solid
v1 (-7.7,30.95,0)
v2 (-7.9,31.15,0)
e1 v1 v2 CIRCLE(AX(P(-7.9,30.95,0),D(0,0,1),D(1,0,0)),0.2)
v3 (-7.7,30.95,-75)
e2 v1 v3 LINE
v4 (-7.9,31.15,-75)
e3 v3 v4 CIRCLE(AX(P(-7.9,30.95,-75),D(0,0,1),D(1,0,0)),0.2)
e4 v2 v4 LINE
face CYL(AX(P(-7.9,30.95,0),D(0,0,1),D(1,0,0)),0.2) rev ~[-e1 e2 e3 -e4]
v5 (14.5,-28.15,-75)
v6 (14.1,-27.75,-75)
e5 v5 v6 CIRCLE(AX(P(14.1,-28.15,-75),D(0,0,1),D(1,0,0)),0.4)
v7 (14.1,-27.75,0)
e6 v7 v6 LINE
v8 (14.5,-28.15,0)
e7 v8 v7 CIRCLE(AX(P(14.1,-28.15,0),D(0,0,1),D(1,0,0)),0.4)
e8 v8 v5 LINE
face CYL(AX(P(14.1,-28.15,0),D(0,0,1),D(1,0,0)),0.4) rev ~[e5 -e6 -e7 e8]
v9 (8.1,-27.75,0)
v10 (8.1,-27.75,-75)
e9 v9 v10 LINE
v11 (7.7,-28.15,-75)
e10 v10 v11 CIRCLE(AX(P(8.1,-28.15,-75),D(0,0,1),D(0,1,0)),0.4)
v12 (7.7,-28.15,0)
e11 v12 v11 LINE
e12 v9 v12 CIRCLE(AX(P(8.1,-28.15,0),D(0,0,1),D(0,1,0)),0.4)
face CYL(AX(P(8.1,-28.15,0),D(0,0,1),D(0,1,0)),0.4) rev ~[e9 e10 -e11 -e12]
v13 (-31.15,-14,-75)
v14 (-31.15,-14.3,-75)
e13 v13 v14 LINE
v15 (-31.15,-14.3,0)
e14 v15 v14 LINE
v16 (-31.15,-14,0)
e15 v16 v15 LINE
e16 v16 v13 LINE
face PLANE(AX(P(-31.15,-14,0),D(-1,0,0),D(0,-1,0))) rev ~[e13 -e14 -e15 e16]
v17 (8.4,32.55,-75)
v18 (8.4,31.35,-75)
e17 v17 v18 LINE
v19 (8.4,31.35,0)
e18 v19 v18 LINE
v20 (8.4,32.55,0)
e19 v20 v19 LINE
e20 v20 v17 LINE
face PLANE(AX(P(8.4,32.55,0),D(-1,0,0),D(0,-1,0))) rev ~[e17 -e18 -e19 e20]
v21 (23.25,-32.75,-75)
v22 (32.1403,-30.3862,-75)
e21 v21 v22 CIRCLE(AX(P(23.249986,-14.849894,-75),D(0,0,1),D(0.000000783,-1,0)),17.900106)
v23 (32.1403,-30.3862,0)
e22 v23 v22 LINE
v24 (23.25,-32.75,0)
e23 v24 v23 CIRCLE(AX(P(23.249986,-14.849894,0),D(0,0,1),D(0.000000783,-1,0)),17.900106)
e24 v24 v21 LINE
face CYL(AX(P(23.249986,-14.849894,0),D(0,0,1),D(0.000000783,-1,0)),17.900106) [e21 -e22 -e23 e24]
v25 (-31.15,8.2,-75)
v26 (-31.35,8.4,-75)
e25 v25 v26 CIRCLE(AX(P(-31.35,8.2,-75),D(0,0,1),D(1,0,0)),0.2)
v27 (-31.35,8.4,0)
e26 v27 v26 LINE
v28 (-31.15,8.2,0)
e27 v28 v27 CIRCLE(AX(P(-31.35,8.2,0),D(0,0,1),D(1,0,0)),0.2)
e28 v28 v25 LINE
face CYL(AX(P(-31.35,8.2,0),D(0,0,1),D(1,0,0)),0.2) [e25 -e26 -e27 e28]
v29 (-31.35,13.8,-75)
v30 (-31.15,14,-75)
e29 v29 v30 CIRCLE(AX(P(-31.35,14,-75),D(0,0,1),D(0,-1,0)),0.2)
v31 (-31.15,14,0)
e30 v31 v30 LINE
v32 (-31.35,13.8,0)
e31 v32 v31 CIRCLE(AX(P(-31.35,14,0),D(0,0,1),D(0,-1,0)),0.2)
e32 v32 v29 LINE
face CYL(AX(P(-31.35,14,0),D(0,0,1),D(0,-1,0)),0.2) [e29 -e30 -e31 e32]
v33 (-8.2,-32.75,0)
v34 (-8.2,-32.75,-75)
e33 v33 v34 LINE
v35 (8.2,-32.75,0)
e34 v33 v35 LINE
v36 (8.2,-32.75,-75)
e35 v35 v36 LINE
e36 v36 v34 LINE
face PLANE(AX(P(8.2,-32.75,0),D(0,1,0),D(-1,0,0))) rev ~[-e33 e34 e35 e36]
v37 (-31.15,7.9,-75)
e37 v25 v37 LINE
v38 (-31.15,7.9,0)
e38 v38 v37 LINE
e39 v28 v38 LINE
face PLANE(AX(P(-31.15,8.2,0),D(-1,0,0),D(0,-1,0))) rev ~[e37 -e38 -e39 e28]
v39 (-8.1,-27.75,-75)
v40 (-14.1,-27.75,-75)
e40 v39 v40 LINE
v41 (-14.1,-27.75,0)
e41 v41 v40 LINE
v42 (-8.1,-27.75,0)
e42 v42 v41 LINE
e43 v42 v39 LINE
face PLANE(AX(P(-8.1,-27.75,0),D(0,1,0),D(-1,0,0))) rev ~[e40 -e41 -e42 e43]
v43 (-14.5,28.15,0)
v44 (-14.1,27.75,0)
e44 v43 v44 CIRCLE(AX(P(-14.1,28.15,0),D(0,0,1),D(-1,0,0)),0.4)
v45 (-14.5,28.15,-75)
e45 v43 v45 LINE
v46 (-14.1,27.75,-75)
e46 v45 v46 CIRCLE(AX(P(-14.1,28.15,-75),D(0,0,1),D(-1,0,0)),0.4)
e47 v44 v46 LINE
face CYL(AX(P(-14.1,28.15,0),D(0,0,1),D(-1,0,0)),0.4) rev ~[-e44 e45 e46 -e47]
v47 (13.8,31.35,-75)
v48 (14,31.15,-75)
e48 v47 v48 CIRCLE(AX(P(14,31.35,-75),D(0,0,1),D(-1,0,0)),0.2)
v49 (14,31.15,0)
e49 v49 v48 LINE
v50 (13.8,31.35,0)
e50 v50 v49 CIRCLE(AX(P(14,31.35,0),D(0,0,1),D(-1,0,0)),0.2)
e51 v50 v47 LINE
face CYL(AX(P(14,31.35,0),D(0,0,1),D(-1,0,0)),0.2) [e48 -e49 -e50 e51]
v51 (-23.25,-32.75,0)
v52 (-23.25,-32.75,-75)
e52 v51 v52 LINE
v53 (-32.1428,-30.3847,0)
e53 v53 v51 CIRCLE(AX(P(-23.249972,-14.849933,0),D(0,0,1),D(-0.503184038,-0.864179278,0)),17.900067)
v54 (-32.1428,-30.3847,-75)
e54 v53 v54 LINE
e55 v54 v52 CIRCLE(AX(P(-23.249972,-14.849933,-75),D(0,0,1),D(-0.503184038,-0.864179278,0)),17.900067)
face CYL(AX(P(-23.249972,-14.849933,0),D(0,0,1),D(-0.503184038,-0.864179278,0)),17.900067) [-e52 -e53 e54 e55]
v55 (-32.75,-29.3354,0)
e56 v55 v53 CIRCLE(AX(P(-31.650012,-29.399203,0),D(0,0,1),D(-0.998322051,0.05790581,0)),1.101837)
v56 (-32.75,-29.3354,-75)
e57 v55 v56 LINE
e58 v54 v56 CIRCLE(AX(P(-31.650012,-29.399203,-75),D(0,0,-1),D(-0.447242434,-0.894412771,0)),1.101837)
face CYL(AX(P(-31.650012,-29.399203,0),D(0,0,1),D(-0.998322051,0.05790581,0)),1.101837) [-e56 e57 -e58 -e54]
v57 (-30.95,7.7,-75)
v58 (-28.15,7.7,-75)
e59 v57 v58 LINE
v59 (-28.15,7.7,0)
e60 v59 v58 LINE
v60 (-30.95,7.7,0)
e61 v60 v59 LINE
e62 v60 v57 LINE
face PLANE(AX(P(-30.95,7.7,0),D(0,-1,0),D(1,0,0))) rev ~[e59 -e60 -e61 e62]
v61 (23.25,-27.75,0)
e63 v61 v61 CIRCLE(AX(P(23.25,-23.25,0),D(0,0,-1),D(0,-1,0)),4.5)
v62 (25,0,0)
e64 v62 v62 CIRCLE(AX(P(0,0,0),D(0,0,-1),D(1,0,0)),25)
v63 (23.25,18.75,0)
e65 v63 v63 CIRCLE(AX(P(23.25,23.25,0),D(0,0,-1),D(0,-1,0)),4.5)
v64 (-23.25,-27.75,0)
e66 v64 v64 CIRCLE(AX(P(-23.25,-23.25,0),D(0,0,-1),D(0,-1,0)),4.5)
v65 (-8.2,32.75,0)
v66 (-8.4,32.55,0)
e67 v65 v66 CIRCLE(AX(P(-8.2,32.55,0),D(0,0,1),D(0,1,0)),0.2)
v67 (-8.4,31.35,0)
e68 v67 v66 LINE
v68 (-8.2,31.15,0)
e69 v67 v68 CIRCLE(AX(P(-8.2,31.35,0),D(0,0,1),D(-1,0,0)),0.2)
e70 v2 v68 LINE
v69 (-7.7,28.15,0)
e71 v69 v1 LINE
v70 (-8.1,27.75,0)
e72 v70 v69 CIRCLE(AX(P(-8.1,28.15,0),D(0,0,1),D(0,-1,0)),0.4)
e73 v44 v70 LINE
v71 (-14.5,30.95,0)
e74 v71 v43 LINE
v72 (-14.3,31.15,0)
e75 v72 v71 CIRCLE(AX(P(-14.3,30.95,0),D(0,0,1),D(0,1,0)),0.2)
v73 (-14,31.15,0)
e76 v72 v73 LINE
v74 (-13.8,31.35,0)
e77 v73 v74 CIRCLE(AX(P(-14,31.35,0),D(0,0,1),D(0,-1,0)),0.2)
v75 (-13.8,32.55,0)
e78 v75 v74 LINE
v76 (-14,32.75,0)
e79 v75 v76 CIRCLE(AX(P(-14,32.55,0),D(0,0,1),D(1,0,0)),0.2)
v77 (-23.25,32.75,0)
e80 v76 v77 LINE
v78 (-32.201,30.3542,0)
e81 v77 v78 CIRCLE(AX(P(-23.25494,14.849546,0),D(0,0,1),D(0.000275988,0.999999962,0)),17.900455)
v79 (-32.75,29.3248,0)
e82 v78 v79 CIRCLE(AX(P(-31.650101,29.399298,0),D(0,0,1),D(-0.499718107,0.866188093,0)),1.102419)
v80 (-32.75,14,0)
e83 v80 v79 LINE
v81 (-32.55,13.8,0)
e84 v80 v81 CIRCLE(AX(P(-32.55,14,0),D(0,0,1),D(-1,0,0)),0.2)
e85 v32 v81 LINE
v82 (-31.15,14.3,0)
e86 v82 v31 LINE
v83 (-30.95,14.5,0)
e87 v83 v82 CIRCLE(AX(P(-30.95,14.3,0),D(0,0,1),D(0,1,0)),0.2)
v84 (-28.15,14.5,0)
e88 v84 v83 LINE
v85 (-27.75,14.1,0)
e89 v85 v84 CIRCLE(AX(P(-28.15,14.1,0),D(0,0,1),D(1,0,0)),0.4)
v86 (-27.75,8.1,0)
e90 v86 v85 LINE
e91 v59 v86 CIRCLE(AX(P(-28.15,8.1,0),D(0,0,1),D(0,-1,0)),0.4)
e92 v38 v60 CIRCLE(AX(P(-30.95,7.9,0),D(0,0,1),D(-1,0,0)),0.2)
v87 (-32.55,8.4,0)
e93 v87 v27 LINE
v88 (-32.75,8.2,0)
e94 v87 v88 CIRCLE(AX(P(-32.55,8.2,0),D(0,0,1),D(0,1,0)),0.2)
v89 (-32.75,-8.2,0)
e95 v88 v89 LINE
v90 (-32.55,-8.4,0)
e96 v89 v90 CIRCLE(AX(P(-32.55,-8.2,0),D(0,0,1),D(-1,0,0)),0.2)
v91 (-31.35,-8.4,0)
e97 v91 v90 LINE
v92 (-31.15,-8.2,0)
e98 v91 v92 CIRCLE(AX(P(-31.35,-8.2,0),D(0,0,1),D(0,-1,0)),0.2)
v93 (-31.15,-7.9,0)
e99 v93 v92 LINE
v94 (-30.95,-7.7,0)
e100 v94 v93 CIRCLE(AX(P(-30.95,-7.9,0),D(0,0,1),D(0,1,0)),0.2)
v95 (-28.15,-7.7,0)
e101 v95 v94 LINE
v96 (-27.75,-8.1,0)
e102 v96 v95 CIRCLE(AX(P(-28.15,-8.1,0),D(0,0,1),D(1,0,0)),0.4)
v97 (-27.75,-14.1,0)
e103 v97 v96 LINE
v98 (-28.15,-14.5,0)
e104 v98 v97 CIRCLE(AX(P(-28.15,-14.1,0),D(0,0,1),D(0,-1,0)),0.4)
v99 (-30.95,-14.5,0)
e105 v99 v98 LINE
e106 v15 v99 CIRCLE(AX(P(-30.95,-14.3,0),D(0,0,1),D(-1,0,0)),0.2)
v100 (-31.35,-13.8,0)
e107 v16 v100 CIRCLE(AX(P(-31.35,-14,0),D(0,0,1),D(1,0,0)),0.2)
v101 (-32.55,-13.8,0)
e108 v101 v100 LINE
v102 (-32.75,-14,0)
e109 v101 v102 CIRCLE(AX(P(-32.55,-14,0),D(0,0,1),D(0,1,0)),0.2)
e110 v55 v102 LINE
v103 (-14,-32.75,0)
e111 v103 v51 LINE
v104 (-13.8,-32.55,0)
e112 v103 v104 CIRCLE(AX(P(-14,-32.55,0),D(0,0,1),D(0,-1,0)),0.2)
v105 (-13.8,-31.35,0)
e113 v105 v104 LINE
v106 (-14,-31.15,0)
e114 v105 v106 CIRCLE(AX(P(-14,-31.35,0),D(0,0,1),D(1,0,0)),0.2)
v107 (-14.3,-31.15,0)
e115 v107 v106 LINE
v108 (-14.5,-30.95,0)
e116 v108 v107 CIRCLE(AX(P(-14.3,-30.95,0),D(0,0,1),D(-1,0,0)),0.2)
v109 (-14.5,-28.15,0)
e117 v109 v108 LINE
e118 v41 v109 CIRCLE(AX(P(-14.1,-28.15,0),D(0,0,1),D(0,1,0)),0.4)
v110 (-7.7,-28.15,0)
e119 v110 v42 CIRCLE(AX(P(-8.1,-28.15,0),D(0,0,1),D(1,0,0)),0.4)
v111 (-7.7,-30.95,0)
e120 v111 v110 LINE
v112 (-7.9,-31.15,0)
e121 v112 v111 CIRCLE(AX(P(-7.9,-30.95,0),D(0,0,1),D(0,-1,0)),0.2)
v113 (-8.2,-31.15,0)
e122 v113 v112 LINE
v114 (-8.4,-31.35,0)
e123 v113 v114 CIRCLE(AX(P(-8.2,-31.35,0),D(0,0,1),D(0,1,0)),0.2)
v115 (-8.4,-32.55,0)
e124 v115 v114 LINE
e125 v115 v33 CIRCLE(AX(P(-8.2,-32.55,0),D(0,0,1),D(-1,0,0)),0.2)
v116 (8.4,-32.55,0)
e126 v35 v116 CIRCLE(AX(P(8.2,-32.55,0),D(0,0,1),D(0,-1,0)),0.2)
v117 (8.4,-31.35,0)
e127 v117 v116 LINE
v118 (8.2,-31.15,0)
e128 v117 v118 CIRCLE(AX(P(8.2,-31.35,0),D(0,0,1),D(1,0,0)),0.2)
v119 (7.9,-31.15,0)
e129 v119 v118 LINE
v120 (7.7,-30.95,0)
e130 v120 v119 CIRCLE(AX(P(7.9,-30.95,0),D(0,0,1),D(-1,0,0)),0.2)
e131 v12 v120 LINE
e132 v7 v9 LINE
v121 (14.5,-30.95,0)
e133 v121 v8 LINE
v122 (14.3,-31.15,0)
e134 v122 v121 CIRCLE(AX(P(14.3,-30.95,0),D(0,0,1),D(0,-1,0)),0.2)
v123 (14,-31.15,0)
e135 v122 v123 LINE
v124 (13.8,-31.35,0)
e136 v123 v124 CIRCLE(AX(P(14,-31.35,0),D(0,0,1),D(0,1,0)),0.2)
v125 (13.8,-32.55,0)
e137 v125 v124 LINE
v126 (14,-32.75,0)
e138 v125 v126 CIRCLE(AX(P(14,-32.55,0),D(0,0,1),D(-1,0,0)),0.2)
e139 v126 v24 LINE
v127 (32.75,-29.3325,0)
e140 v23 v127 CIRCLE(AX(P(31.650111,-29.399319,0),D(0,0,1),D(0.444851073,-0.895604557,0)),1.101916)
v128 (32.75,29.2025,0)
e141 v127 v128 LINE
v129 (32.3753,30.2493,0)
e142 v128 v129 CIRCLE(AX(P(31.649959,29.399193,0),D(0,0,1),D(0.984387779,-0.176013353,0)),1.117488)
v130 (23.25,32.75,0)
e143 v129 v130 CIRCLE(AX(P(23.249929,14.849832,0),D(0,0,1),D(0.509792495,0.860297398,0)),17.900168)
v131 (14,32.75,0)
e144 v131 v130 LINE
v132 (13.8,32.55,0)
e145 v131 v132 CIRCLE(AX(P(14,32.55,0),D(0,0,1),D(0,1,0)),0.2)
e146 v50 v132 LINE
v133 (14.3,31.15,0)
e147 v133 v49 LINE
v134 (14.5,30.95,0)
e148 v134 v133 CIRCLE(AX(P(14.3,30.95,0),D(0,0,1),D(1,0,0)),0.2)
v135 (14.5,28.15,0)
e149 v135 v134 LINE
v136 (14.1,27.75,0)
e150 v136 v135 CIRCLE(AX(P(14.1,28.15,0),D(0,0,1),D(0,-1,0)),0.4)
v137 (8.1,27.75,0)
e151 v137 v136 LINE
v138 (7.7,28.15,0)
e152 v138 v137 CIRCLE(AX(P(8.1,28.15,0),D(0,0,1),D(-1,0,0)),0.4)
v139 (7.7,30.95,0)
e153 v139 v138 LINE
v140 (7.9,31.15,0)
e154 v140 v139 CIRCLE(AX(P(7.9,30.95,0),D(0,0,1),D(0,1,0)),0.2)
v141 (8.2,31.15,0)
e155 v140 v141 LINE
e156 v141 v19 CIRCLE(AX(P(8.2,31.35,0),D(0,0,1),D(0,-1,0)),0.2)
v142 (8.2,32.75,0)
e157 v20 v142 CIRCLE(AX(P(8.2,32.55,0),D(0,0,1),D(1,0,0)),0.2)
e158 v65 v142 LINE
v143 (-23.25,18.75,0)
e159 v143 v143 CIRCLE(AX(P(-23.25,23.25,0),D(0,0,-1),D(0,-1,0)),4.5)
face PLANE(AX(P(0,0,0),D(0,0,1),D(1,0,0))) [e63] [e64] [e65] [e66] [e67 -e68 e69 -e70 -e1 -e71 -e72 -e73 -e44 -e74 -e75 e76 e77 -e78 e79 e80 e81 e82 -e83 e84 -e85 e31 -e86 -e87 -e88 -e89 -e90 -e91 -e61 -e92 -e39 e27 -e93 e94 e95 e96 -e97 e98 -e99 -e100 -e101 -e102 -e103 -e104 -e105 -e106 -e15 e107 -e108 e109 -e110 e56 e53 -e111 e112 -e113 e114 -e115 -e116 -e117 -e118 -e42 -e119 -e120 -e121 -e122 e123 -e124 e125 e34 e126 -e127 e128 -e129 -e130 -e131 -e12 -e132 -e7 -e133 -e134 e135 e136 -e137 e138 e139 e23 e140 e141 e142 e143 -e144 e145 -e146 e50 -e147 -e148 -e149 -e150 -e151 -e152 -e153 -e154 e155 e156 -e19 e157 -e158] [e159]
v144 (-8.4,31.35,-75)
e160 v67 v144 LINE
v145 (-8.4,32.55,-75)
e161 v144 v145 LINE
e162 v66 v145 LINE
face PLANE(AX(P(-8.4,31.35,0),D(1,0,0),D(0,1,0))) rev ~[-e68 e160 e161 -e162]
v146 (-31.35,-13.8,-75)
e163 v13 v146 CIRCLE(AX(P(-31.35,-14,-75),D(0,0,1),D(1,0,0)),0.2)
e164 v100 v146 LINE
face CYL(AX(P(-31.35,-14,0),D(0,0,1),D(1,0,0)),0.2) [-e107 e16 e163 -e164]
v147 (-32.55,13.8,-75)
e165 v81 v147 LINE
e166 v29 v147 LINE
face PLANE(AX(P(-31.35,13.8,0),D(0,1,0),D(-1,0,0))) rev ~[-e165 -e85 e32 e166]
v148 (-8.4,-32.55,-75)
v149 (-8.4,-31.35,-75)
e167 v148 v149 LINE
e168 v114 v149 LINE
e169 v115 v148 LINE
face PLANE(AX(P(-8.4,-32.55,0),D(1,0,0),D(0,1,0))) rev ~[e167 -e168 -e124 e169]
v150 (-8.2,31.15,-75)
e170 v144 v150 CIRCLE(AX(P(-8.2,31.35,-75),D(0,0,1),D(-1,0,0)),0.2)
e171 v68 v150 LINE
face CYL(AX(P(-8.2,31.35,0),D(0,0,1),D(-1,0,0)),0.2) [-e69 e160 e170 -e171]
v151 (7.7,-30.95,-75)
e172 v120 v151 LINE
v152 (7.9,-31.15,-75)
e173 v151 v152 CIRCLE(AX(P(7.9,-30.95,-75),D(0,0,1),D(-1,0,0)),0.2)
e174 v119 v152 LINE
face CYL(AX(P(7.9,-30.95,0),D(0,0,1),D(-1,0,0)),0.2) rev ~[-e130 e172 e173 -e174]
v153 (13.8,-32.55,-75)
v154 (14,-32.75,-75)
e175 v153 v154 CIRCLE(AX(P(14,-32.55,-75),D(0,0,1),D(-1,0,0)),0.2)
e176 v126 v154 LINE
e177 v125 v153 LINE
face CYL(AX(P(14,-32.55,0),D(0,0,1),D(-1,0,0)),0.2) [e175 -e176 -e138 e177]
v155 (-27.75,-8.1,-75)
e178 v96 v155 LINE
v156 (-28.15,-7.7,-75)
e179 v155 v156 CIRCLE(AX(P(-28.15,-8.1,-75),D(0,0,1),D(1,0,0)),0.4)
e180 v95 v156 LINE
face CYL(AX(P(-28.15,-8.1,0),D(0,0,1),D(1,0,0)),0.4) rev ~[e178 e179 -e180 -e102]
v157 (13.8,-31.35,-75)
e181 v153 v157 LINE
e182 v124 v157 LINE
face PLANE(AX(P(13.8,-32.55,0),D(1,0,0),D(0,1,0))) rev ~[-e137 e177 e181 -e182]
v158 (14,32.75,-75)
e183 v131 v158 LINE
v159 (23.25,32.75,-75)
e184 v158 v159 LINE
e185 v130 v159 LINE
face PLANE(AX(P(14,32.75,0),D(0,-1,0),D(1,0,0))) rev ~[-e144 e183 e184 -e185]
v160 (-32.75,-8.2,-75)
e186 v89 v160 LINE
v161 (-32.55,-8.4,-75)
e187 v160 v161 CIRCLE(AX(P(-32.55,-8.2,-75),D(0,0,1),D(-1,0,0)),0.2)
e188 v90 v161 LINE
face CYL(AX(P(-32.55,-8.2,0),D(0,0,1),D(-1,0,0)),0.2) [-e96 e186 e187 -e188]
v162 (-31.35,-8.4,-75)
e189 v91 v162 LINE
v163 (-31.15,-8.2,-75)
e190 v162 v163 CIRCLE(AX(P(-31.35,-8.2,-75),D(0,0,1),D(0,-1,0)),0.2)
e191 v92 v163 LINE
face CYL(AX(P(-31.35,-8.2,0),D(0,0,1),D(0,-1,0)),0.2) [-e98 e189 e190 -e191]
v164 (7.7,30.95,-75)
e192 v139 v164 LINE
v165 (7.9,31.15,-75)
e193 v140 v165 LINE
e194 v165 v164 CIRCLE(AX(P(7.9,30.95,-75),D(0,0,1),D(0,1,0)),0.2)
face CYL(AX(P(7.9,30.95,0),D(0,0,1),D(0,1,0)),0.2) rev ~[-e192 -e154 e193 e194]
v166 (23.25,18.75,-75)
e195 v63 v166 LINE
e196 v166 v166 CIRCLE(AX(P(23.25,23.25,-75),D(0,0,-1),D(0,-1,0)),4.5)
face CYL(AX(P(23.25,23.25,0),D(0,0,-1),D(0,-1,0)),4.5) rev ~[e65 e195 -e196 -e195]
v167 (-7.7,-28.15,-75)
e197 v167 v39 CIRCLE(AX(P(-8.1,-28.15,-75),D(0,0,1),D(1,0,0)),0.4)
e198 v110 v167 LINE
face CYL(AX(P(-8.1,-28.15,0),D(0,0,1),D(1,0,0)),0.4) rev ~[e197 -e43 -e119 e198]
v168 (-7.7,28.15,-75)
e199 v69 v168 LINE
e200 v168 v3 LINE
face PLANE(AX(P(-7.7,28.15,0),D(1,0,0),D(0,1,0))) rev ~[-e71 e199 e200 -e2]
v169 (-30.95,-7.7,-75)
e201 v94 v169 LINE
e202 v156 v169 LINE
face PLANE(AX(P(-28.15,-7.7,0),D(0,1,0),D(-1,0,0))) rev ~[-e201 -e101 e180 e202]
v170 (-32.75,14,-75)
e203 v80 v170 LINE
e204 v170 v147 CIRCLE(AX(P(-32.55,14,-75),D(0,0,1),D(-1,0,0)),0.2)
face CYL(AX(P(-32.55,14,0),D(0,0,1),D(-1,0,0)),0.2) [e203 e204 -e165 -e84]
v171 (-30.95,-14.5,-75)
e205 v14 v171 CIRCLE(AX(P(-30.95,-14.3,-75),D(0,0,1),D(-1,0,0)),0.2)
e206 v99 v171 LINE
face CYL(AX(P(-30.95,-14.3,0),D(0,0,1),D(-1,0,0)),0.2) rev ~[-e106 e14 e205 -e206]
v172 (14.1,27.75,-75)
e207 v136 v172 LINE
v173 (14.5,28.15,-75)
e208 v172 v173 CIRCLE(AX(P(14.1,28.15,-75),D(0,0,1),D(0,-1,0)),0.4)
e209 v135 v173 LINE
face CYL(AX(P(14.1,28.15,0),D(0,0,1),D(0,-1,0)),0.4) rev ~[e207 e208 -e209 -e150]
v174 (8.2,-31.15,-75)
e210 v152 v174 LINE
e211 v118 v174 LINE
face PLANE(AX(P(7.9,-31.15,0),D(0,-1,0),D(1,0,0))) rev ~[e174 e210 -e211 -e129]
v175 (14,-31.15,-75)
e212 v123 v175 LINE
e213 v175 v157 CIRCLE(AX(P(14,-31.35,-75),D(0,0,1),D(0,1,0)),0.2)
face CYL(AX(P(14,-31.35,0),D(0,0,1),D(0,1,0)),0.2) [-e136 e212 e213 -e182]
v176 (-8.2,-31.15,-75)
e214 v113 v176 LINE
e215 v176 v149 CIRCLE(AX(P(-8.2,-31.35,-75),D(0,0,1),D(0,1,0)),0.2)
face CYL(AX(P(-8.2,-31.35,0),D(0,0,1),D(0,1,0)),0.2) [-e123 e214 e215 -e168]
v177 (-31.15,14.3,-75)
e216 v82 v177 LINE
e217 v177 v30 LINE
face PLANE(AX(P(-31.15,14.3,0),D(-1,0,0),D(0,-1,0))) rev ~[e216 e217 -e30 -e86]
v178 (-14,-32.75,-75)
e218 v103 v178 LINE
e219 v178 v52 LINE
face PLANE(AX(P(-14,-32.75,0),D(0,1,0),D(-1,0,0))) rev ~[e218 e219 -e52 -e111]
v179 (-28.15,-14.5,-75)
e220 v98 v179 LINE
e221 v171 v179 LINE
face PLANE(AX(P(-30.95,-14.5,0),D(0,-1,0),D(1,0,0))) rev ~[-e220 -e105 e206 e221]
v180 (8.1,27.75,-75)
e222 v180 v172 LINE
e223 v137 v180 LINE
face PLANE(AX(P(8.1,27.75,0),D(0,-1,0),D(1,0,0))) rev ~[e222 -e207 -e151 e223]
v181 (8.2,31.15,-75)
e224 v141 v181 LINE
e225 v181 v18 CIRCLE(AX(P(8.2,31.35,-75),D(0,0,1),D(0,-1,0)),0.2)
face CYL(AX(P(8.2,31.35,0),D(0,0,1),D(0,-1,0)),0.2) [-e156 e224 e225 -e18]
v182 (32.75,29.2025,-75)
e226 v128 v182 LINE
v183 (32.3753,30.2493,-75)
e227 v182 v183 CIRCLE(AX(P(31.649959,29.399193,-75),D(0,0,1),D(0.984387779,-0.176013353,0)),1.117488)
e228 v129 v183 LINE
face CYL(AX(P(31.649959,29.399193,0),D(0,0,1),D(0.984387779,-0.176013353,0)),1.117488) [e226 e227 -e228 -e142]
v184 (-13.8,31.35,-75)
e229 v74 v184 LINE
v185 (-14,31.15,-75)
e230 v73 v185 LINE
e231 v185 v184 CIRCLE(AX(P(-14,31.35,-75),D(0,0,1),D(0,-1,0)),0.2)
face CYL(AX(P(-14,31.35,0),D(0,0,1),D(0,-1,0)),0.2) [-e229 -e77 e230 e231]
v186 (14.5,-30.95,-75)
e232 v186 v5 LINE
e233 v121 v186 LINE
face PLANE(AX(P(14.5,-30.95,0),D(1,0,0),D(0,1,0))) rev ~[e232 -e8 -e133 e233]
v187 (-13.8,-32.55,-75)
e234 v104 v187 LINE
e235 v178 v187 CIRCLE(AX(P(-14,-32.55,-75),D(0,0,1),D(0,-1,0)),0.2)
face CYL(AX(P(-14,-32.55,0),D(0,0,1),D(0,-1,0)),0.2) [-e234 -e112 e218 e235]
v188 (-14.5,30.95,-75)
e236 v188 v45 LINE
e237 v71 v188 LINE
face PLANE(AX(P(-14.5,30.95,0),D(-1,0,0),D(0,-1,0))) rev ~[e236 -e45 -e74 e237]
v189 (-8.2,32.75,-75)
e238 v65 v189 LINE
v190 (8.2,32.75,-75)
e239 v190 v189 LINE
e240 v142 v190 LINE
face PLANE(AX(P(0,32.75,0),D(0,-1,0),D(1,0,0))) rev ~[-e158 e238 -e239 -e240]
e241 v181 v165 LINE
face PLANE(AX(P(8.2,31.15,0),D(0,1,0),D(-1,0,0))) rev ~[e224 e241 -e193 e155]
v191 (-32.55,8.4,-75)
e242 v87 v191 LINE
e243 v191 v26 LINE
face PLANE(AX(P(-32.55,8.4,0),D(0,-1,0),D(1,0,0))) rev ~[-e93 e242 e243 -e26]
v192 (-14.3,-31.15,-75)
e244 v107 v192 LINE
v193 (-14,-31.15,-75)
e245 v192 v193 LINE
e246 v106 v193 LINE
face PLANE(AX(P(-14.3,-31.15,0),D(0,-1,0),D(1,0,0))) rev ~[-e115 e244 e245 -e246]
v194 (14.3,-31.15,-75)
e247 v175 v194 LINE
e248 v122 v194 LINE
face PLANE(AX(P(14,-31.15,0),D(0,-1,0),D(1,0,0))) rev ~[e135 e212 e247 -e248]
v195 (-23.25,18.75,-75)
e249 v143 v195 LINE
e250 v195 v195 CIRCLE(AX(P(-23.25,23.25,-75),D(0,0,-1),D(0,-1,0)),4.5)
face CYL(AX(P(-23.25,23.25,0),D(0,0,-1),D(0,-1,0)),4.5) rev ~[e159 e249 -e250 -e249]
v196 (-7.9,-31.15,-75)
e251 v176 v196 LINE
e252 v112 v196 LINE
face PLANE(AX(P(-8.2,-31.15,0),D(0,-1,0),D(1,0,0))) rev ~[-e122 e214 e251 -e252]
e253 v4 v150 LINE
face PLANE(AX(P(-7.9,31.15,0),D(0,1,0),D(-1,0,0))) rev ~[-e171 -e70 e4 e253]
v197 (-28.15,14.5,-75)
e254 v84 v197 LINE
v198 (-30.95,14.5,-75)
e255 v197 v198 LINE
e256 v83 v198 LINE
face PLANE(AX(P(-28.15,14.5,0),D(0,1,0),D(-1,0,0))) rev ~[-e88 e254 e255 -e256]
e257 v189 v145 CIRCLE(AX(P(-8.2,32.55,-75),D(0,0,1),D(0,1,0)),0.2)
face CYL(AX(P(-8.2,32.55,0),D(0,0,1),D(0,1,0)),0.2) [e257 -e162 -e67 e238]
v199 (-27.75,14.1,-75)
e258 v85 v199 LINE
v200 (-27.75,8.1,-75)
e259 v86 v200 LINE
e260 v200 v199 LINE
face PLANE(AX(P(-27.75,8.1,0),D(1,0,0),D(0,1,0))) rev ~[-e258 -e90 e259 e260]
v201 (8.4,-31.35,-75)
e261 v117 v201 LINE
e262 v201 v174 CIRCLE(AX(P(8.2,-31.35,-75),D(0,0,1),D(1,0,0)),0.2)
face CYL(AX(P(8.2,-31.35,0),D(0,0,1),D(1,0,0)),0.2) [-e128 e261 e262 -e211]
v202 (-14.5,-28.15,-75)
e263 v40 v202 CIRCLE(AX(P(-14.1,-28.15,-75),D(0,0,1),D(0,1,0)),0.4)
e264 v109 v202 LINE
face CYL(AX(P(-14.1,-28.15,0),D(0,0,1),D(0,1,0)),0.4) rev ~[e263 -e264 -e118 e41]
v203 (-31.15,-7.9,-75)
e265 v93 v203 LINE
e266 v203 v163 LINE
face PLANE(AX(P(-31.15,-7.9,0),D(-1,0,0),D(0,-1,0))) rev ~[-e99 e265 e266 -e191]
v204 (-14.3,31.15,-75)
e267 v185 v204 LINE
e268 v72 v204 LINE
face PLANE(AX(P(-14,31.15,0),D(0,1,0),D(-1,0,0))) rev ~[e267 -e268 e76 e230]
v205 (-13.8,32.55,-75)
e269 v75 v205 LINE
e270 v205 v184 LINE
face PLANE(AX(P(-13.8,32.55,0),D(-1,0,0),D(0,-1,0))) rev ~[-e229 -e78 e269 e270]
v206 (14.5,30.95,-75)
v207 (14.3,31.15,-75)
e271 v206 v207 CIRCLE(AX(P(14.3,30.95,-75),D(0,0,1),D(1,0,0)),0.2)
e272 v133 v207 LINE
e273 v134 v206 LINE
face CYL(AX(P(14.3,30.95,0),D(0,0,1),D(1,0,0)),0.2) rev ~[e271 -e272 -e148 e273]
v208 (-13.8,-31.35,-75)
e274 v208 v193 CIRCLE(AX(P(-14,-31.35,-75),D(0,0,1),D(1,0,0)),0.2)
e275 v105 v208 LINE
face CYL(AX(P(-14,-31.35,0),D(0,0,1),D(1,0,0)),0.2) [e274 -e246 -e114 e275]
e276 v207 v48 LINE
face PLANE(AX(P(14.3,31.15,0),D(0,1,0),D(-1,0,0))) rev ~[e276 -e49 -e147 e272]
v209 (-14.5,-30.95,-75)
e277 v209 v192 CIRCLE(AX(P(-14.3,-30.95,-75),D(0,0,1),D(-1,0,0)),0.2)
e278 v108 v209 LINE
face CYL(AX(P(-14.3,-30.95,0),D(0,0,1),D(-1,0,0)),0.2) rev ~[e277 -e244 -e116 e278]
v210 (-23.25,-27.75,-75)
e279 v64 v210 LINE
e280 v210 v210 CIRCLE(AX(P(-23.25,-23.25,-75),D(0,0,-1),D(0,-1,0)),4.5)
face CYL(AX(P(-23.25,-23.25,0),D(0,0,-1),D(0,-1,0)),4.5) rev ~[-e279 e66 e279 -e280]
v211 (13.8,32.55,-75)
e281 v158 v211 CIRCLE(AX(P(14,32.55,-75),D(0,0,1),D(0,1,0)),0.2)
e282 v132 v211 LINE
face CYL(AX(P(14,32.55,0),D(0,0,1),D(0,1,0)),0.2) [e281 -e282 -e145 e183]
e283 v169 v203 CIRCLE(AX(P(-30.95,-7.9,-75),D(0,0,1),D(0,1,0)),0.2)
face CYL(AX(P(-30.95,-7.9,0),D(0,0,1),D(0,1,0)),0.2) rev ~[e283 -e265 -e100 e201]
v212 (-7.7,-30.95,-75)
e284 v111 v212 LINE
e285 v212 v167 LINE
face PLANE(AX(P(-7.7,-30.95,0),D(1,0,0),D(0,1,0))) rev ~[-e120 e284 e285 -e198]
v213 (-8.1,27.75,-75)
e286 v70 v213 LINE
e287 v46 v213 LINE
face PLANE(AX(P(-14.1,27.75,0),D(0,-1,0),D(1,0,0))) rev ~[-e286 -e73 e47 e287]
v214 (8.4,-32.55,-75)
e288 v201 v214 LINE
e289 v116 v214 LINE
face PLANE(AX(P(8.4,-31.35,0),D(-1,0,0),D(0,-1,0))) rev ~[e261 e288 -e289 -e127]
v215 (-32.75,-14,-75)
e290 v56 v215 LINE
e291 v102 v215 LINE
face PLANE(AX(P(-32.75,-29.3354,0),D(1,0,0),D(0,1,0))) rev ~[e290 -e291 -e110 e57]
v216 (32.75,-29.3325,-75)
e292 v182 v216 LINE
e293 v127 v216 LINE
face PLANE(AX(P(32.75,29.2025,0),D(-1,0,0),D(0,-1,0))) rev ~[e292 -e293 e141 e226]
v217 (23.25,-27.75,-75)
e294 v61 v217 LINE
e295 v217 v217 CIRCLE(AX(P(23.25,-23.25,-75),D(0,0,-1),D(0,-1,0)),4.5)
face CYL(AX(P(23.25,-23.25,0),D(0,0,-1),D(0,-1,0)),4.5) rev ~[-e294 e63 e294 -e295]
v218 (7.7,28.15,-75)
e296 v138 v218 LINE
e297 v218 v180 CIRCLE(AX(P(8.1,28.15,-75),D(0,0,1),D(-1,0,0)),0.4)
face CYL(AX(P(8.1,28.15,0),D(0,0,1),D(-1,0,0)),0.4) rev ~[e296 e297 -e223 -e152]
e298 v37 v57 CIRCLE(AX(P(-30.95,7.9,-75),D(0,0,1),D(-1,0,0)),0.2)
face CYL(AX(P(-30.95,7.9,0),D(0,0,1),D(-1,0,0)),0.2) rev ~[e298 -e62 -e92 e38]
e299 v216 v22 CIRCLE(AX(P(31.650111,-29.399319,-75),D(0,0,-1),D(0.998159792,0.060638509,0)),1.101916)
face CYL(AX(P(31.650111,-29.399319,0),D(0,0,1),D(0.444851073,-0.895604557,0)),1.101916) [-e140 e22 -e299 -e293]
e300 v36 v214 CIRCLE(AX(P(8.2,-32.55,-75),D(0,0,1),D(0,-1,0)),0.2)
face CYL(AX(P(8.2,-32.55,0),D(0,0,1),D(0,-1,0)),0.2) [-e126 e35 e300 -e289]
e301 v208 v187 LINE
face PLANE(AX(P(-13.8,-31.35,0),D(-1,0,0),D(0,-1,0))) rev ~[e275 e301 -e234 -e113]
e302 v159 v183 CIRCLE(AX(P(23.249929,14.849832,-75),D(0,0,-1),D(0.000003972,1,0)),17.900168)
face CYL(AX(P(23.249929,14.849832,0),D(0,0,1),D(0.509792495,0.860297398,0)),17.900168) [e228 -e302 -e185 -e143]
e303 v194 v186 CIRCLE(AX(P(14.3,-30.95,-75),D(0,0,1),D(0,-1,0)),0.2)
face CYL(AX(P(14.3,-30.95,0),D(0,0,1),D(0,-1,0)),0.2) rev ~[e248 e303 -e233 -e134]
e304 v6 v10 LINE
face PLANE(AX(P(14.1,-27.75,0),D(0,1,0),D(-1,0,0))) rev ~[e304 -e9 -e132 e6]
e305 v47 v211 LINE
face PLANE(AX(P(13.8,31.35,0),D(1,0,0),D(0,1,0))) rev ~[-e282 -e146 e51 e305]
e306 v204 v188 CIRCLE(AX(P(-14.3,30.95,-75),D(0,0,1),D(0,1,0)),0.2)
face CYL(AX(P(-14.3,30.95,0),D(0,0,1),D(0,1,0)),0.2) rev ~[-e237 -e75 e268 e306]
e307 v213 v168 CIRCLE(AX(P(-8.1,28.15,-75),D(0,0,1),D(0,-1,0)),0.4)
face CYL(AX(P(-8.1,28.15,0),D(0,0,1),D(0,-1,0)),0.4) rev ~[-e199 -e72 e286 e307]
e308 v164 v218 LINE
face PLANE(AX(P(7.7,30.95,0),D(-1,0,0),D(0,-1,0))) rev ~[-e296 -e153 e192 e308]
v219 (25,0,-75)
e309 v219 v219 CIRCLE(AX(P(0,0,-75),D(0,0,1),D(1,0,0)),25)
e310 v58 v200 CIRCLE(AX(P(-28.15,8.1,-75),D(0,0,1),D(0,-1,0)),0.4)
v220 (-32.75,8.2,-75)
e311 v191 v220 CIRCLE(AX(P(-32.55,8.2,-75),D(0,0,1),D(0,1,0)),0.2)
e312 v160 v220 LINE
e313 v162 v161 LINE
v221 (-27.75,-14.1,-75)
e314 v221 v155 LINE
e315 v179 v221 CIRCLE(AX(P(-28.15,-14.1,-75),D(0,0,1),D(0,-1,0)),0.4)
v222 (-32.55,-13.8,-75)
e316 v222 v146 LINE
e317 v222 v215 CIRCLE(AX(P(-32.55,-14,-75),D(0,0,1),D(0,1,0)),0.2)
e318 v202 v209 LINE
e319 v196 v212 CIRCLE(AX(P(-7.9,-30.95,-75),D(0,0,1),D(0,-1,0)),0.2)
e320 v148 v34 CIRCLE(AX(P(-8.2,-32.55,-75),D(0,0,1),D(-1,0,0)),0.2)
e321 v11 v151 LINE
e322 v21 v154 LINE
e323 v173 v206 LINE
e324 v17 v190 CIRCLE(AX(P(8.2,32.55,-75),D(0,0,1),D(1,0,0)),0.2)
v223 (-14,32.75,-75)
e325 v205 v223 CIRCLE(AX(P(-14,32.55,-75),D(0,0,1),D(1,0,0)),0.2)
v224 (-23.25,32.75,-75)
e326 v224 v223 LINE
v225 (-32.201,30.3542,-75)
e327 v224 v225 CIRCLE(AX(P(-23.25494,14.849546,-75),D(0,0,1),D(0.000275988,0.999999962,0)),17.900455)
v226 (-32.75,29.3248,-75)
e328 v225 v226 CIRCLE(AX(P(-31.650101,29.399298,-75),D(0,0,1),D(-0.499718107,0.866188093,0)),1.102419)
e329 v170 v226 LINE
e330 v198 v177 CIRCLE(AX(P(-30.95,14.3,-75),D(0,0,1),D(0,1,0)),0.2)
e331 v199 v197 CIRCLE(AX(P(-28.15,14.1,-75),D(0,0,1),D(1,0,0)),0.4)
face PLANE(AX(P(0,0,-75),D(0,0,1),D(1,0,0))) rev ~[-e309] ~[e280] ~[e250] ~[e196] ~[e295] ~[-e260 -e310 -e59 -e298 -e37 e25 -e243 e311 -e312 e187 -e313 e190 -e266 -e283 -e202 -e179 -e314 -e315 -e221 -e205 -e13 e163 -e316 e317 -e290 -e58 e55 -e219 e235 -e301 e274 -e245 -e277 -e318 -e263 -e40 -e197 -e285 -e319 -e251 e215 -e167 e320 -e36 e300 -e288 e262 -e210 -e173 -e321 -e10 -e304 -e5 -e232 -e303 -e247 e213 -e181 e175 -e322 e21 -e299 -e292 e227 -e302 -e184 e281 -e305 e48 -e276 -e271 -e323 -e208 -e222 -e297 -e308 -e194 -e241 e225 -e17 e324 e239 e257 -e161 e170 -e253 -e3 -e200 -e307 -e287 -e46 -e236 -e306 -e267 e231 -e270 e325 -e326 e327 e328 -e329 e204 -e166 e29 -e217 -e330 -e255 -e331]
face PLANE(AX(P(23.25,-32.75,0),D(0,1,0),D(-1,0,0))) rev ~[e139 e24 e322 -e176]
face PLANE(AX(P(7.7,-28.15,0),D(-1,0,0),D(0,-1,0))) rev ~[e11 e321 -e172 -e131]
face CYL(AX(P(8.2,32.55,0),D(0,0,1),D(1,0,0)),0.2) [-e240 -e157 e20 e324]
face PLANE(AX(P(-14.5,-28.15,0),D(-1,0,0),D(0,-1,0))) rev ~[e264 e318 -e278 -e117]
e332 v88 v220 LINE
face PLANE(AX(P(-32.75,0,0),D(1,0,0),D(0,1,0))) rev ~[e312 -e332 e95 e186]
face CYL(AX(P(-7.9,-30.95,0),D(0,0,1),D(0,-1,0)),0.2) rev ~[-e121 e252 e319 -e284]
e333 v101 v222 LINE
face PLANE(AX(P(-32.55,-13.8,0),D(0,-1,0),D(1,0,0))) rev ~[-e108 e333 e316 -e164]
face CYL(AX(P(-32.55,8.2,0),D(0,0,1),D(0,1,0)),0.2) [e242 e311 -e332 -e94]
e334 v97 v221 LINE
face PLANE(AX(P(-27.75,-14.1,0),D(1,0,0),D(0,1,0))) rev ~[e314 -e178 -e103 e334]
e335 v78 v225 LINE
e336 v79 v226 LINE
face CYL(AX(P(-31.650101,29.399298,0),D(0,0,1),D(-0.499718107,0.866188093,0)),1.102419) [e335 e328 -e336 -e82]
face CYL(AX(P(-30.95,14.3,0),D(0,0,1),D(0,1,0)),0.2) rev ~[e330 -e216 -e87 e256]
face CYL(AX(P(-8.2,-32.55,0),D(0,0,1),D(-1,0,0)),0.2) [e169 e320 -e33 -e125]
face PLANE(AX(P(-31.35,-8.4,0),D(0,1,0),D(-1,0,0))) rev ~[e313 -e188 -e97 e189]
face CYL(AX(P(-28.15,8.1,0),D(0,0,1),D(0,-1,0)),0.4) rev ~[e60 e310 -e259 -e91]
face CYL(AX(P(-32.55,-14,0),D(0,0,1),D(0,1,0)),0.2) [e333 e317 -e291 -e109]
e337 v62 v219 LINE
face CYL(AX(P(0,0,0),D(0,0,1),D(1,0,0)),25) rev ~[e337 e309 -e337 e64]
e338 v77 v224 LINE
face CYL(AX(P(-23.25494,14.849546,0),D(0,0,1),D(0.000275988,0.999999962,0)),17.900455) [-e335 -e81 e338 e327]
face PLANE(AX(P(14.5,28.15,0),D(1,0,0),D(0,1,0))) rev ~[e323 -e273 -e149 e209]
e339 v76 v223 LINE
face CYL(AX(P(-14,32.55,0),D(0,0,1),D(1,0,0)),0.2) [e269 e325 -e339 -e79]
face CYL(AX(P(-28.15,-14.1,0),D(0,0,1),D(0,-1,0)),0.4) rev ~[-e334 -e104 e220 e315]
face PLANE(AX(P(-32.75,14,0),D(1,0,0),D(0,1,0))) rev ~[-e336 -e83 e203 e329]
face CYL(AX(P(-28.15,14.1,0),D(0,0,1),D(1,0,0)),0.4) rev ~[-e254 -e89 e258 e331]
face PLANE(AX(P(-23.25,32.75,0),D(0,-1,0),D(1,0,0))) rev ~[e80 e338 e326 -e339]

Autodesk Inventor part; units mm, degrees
ref_plane "YZ Plane" through (0, 0, 0) normal (1, 0, 0) x (0, 1, 0)
ref_plane "XZ Plane" through (0, 0, 0) normal (0, 1, 0) x (-1, 0, 0)
ref_plane "XY Plane" through (0, 0, 0) normal (0, 0, 1) x (1, 0, 0)
sketch "Sketch1" plane through (0, 0, 0) normal (0, 0, 1) x (1, 0, 0)
  line L0 (0, 53.3773) -> (0, -40.0186) projected
  line L1 (-39.496, 0) -> (52.7454, 0) projected
  line L2 (-23.25, 32.75) -> (-14.7105, 32.75)
  line L3 (-13.8, 32.55) -> (-13.8, 31.35)
  line L4 (-14.5, 30.95) -> (-14.5, 28.15)
  line L5 (-14.1, 27.75) -> (-8.1, 27.75)
  line L6 (-7.7, 28.15) -> (-7.7, 30.95)
  line L7 (-8.4, 31.35) -> (-8.4, 32.55)
  line L8 (8.4, 32.55) -> (8.4, 31.35)
  line L9 (8.1659, 31.15) -> (7.9, 31.15)
  line L10 (7.7, 30.95) -> (7.7, 28.15)
  line L11 (8.1, 27.75) -> (14.1, 27.75)
  line L12 (14.5, 28.15) -> (14.5, 30.95)
  line L13 (13.8, 31.35) -> (13.8, 32.55)
  line L14 (32.75, 29.2025) -> (32.75, -29.3325)
  line L15 (23.25, -32.75) -> (14.3148, -32.75)
  line L16 (13.8, -32.55) -> (13.8, -31.35)
  line L17 (14.0222, -31.15) -> (14.3, -31.15)
  line L18 (14.5, -30.95) -> (14.5, -28.15)
  line L19 (14.1, -27.75) -> (8.1, -27.75)
  line L20 (7.7, -28.15) -> (7.7, -30.95)
  line L21 (8.4, -31.35) -> (8.4, -32.55)
  line L22 (-8.4, -32.55) -> (-8.4, -31.35)
  line L23 (-8.2, -31.15) -> (-7.9, -31.15)
  line L24 (-7.7, -30.95) -> (-7.7, -28.15)
  line L25 (-8.1, -27.75) -> (-14.1, -27.75)
  line L26 (-14.5, -28.15) -> (-14.5, -30.95)
  line L27 (-13.8, -31.35) -> (-13.8, -32.55)
  line L28 (-32.75, -29.3354) -> (-32.75, -14)
  line L29 (-32.55, -13.8) -> (-31.35, -13.8)
  line L30 (-30.95, -14.5) -> (-28.15, -14.5)
  line L31 (-27.75, -14.1) -> (-27.75, -8.1)
  line L32 (-28.15, -7.7) -> (-30.95, -7.7)
  line L33 (-31.35, -8.4) -> (-32.55, -8.4)
  line L34 (-32.55, 8.4) -> (-31.35, 8.4)
  line L35 (-31.15, 8.2) -> (-31.15, 7.9)
  line L36 (-30.95, 7.7) -> (-28.15, 7.7)
  line L37 (-27.75, 8.1) -> (-27.75, 14.1)
  line L38 (-28.15, 14.5) -> (-30.95, 14.5)
  line L39 (-31.15, 14.3) -> (-31.15, 14)
  line L40 (-31.35, 13.8) -> (-32.55, 13.8)
  arc A0 (-23.25, 32.75) -> (-32.201, 30.3542) centre (-23.255, 14.85) ccw
  arc A1 (32.3753, 30.2493) -> (23.25, 32.75) centre (23.25, 14.85) ccw
  arc A2 (32.1403, -30.3862) -> (32.75, -29.3325) centre (31.65, -29.3992) ccw
  arc A3 (32.75, 29.2025) -> (32.0235, 30.4524) centre (31.65, 29.3992) ccw
  arc A4 (-32.201, 30.3542) -> (-32.75, 29.3248) centre (-31.65, 29.3992) ccw
  arc A5 (-32.75, -29.3354) -> (-32.1428, -30.3847) centre (-31.65, -29.3992) ccw
  arc A6 (-32.257, -30.3188) -> (-23.25, -32.75) centre (-23.25, -14.85) ccw
  arc A7 (23.25, -32.75) -> (32.2596, -30.3173) centre (23.25, -14.85) ccw
  line L41 (-32.75, 14) -> (-32.75, 29.3248)
  line L42 (-31.15, -7.9) -> (-31.15, -8.2)
  line L43 (-31.15, -14) -> (-31.15, -14.3)
  line L44 (-32.75, -8.2) -> (-32.75, 8.2)
  line L45 (-14.3, -31.15) -> (-14, -31.15)
  line L46 (-14, -32.75) -> (-23.25, -32.75)
  line L47 (14.3148, -32.75) -> (14, -32.75)
  line L48 (8.2, -32.75) -> (-8.2, -32.75)
  line L49 (7.9, -31.15) -> (8.2, -31.15)
  line L50 (14, -31.15) -> (14.0222, -31.15)
  line L51 (7.8505, 32.75) -> (8.2, 32.75)
  line L52 (14, 32.75) -> (23.25, 32.75)
  line L53 (14.3, 31.15) -> (14, 31.15)
  line L54 (8.2, 31.15) -> (8.1659, 31.15)
  line L55 (-14.7105, 32.75) -> (-14, 32.75)
  line L56 (-8.2, 32.75) -> (7.8505, 32.75)
  line L57 (-7.9, 31.15) -> (-8.2, 31.15)
  line L58 (-14, 31.15) -> (-14.0144, 31.15)
  circle A8 centre (0, 0) radius 25
  arc A9 (-13.8, 32.55) -> (-14, 32.75) centre (-14, 32.55) ccw
  arc A10 (-14, 31.15) -> (-13.8, 31.35) centre (-14, 31.35) ccw
  arc A11 (-14.3, 31.15) -> (-14.5, 30.95) centre (-14.3, 30.95) ccw
  arc A12 (-8.4, 31.35) -> (-8.2, 31.15) centre (-8.2, 31.35) ccw
  arc A13 (-7.7, 30.95) -> (-7.9, 31.15) centre (-7.9, 30.95) ccw
  arc A14 (-8.2, 32.75) -> (-8.4, 32.55) centre (-8.2, 32.55) ccw
  line L59 (-14.3, 31.15) -> (-14, 31.15)
  arc A15 (8.4, 32.55) -> (8.2, 32.75) centre (8.2, 32.55) ccw
  arc A16 (8.2, 31.15) -> (8.4, 31.35) centre (8.2, 31.35) ccw
  arc A17 (7.9, 31.15) -> (7.7, 30.95) centre (7.9, 30.95) ccw
  arc A18 (14.5, 30.95) -> (14.3, 31.15) centre (14.3, 30.95) ccw
  arc A19 (13.8, 31.35) -> (14, 31.15) centre (14, 31.35) ccw
  arc A20 (14, 32.75) -> (13.8, 32.55) centre (14, 32.55) ccw
  arc A21 (-32.75, 14) -> (-32.55, 13.8) centre (-32.55, 14) ccw
  arc A22 (-31.35, 13.8) -> (-31.15, 14) centre (-31.35, 14) ccw
  arc A23 (-30.95, 14.5) -> (-31.15, 14.3) centre (-30.95, 14.3) ccw
  arc A24 (-31.15, 7.9) -> (-30.95, 7.7) centre (-30.95, 7.9) ccw
  arc A25 (-31.15, 8.2) -> (-31.35, 8.4) centre (-31.35, 8.2) ccw
  arc A26 (-32.55, 8.4) -> (-32.75, 8.2) centre (-32.55, 8.2) ccw
  arc A27 (-30.95, -7.7) -> (-31.15, -7.9) centre (-30.95, -7.9) ccw
  arc A28 (-31.35, -8.4) -> (-31.15, -8.2) centre (-31.35, -8.2) ccw
  arc A29 (-32.75, -8.2) -> (-32.55, -8.4) centre (-32.55, -8.2) ccw
  arc A30 (-31.15, -14.3) -> (-30.95, -14.5) centre (-30.95, -14.3) ccw
  arc A31 (-31.15, -14) -> (-31.35, -13.8) centre (-31.35, -14) ccw
  arc A32 (-32.55, -13.8) -> (-32.75, -14) centre (-32.55, -14) ccw
  arc A33 (-14, -32.75) -> (-13.8, -32.55) centre (-14, -32.55) ccw
  arc A34 (-13.8, -31.35) -> (-14, -31.15) centre (-14, -31.35) ccw
  arc A35 (-14.5, -30.95) -> (-14.3, -31.15) centre (-14.3, -30.95) ccw
  arc A36 (-8.2, -31.15) -> (-8.4, -31.35) centre (-8.2, -31.35) ccw
  arc A37 (-7.9, -31.15) -> (-7.7, -30.95) centre (-7.9, -30.95) ccw
  arc A38 (-8.4, -32.55) -> (-8.2, -32.75) centre (-8.2, -32.55) ccw
  arc A39 (8.2, -32.75) -> (8.4, -32.55) centre (8.2, -32.55) ccw
  arc A40 (8.4, -31.35) -> (8.2, -31.15) centre (8.2, -31.35) ccw
  arc A41 (7.7, -30.95) -> (7.9, -31.15) centre (7.9, -30.95) ccw
  arc A42 (14.3, -31.15) -> (14.5, -30.95) centre (14.3, -30.95) ccw
  arc A43 (14, -31.15) -> (13.8, -31.35) centre (14, -31.35) ccw
  arc A44 (13.8, -32.55) -> (14, -32.75) centre (14, -32.55) ccw
  arc A45 (14.5, -28.15) -> (14.1, -27.75) centre (14.1, -28.15) ccw
  arc A46 (8.1, -27.75) -> (7.7, -28.15) centre (8.1, -28.15) ccw
  arc A47 (-7.7, -28.15) -> (-8.1, -27.75) centre (-8.1, -28.15) ccw
  arc A48 (-14.1, -27.75) -> (-14.5, -28.15) centre (-14.1, -28.15) ccw
  arc A49 (-28.15, -14.5) -> (-27.75, -14.1) centre (-28.15, -14.1) ccw
  arc A50 (-27.75, -8.1) -> (-28.15, -7.7) centre (-28.15, -8.1) ccw
  arc A51 (-28.15, 7.7) -> (-27.75, 8.1) centre (-28.15, 8.1) ccw
  arc A52 (-27.75, 14.1) -> (-28.15, 14.5) centre (-28.15, 14.1) ccw
  arc A53 (-14.5, 28.15) -> (-14.1, 27.75) centre (-14.1, 28.15) ccw
  arc A54 (-8.1, 27.75) -> (-7.7, 28.15) centre (-8.1, 28.15) ccw
  arc A55 (7.7, 28.15) -> (8.1, 27.75) centre (8.1, 28.15) ccw
  arc A56 (14.1, 27.75) -> (14.5, 28.15) centre (14.1, 28.15) ccw
  point P0 (-13.8, 32.75)
  point P1 (-13.8, 31.15)
  point P2 (-14.5, 27.75)
  point P3 (-7.7, 27.75)
  point P4 (-7.7, 31.15)
  point P5 (-8.4, 31.15)
  point P6 (-8.4, 32.75)
  point P7 (8.4, 32.75)
  point P8 (8.4, 31.15)
  point P9 (7.7, 31.15)
  point P10 (7.7, 27.75)
  point P11 (14.5, 27.75)
  point P12 (14.5, 31.15)
  point P13 (13.8, 31.15)
  point P14 (13.8, 32.75)
  point P15 (13.8, -32.75)
  point P16 (13.8, -31.15)
  point P17 (14.5, -31.15)
  point P18 (14.5, -27.75)
  point P19 (7.7, -27.75)
  point P20 (7.7, -31.15)
  point P21 (8.4, -31.15)
  point P22 (8.4, -32.75)
  point P23 (-8.4, -32.75)
  point P24 (-8.4, -31.15)
  point P25 (-7.7, -27.75)
  point P26 (-14.5, -27.75)
  point P27 (-14.5, -31.15)
  point P28 (-13.8, -31.15)
  point P29 (-13.8, -32.75)
  point P30 (-32.75, -13.8)
  point P31 (-31.15, -13.8)
  point P32 (-31.15, -14.5)
  point P33 (-27.75, -14.5)
  point P34 (-27.75, -7.7)
  point P35 (-31.15, -7.7)
  point P36 (-31.15, -8.4)
  point P37 (-32.75, -8.4)
  point P38 (-32.75, 8.4)
  point P39 (-31.15, 8.4)
  point P40 (-31.15, 7.7)
  point P41 (-27.75, 7.7)
  point P42 (-27.75, 14.5)
  point P43 (-31.15, 14.5)
  point P44 (-31.15, 13.8)
  point P45 (-32.75, 13.8)
  point P46 (-7.7, -31.15)
  dimension "d0" = 35.8
  dimension "d1" = 50
  dimension "d4" = 0.2
  dimension "d5" = 0.2
  dimension "d6" = 0.4
extrude "FESTO, 50MM" add sketch "Sketch1" against normal blind 75 contours L56 L51 A15 L8 A16 L54 L9 A17 L10 A55 L11 A56 L12 A18 L53 A19 L13 A20 L52 A1 A3 L14 L1 A8 L0 | L0 A8 L1 L44 A26 L34 A25 L35 A24 L36 A51 L37 A52 L38 A23 L39 A22 L40 A21 L41 A4 A0 L2 L55 A9 L3 A10 L58 L59 A11 L4 A53 L5 A54 L6 A13 L57 A12 L7 A14 L56 | L1 L14 A2 A7 L15 L47 A44 L16 A43 L50 L17 A42 L18 A45 L19 A46 L20 A41 L49 A40 L21 A39 L48 L0 A8 | A8 L0 L48 A38 L22 A36 L23 A37 L24 A47 L25 A48 L26 A35 L45 A34 L27 A33 L46 A6 A5 L28 A32 L29 A31 L43 A30 L30 A49 L31 A50 L32 A27 L42 A28 L33 A29 L44 L1
sketch "Sketch2" plane through (0, 0, 0) normal (0, 0, 1) x (1, 0, 0)
  line L0 (0, 52.4) -> (0, -39.3) projected
  line L1 (-39.3045, 0) -> (52.4235, 0) projected
  point P0 (-23.25, 23.25)
  point P1 (23.25, 23.25)
  point P2 (23.25, -23.25)
  point P3 (-23.25, -23.25)
  dimension "d7" = 23.25
  dimension "d8" = 23.25
  dimension "d9" = 23.25
  dimension "d10" = 23.25
hole "Hole1" at (-23.25, 23.25, 0) at (23.25, 23.25, 0) at (23.25, -23.25, 0) at (-23.25, -23.25, 0) direction (0, 0, -1) diameter 9 end through all
equation "\"d8\" = d7"
equation "\"d9\" = d7"
equation "\"d10\" = d7"
properties part number "EXTRUSION,CYLINDER, ALUMINIUM, FESTO, 50MM" material "Aluminum, 6061-T6"
